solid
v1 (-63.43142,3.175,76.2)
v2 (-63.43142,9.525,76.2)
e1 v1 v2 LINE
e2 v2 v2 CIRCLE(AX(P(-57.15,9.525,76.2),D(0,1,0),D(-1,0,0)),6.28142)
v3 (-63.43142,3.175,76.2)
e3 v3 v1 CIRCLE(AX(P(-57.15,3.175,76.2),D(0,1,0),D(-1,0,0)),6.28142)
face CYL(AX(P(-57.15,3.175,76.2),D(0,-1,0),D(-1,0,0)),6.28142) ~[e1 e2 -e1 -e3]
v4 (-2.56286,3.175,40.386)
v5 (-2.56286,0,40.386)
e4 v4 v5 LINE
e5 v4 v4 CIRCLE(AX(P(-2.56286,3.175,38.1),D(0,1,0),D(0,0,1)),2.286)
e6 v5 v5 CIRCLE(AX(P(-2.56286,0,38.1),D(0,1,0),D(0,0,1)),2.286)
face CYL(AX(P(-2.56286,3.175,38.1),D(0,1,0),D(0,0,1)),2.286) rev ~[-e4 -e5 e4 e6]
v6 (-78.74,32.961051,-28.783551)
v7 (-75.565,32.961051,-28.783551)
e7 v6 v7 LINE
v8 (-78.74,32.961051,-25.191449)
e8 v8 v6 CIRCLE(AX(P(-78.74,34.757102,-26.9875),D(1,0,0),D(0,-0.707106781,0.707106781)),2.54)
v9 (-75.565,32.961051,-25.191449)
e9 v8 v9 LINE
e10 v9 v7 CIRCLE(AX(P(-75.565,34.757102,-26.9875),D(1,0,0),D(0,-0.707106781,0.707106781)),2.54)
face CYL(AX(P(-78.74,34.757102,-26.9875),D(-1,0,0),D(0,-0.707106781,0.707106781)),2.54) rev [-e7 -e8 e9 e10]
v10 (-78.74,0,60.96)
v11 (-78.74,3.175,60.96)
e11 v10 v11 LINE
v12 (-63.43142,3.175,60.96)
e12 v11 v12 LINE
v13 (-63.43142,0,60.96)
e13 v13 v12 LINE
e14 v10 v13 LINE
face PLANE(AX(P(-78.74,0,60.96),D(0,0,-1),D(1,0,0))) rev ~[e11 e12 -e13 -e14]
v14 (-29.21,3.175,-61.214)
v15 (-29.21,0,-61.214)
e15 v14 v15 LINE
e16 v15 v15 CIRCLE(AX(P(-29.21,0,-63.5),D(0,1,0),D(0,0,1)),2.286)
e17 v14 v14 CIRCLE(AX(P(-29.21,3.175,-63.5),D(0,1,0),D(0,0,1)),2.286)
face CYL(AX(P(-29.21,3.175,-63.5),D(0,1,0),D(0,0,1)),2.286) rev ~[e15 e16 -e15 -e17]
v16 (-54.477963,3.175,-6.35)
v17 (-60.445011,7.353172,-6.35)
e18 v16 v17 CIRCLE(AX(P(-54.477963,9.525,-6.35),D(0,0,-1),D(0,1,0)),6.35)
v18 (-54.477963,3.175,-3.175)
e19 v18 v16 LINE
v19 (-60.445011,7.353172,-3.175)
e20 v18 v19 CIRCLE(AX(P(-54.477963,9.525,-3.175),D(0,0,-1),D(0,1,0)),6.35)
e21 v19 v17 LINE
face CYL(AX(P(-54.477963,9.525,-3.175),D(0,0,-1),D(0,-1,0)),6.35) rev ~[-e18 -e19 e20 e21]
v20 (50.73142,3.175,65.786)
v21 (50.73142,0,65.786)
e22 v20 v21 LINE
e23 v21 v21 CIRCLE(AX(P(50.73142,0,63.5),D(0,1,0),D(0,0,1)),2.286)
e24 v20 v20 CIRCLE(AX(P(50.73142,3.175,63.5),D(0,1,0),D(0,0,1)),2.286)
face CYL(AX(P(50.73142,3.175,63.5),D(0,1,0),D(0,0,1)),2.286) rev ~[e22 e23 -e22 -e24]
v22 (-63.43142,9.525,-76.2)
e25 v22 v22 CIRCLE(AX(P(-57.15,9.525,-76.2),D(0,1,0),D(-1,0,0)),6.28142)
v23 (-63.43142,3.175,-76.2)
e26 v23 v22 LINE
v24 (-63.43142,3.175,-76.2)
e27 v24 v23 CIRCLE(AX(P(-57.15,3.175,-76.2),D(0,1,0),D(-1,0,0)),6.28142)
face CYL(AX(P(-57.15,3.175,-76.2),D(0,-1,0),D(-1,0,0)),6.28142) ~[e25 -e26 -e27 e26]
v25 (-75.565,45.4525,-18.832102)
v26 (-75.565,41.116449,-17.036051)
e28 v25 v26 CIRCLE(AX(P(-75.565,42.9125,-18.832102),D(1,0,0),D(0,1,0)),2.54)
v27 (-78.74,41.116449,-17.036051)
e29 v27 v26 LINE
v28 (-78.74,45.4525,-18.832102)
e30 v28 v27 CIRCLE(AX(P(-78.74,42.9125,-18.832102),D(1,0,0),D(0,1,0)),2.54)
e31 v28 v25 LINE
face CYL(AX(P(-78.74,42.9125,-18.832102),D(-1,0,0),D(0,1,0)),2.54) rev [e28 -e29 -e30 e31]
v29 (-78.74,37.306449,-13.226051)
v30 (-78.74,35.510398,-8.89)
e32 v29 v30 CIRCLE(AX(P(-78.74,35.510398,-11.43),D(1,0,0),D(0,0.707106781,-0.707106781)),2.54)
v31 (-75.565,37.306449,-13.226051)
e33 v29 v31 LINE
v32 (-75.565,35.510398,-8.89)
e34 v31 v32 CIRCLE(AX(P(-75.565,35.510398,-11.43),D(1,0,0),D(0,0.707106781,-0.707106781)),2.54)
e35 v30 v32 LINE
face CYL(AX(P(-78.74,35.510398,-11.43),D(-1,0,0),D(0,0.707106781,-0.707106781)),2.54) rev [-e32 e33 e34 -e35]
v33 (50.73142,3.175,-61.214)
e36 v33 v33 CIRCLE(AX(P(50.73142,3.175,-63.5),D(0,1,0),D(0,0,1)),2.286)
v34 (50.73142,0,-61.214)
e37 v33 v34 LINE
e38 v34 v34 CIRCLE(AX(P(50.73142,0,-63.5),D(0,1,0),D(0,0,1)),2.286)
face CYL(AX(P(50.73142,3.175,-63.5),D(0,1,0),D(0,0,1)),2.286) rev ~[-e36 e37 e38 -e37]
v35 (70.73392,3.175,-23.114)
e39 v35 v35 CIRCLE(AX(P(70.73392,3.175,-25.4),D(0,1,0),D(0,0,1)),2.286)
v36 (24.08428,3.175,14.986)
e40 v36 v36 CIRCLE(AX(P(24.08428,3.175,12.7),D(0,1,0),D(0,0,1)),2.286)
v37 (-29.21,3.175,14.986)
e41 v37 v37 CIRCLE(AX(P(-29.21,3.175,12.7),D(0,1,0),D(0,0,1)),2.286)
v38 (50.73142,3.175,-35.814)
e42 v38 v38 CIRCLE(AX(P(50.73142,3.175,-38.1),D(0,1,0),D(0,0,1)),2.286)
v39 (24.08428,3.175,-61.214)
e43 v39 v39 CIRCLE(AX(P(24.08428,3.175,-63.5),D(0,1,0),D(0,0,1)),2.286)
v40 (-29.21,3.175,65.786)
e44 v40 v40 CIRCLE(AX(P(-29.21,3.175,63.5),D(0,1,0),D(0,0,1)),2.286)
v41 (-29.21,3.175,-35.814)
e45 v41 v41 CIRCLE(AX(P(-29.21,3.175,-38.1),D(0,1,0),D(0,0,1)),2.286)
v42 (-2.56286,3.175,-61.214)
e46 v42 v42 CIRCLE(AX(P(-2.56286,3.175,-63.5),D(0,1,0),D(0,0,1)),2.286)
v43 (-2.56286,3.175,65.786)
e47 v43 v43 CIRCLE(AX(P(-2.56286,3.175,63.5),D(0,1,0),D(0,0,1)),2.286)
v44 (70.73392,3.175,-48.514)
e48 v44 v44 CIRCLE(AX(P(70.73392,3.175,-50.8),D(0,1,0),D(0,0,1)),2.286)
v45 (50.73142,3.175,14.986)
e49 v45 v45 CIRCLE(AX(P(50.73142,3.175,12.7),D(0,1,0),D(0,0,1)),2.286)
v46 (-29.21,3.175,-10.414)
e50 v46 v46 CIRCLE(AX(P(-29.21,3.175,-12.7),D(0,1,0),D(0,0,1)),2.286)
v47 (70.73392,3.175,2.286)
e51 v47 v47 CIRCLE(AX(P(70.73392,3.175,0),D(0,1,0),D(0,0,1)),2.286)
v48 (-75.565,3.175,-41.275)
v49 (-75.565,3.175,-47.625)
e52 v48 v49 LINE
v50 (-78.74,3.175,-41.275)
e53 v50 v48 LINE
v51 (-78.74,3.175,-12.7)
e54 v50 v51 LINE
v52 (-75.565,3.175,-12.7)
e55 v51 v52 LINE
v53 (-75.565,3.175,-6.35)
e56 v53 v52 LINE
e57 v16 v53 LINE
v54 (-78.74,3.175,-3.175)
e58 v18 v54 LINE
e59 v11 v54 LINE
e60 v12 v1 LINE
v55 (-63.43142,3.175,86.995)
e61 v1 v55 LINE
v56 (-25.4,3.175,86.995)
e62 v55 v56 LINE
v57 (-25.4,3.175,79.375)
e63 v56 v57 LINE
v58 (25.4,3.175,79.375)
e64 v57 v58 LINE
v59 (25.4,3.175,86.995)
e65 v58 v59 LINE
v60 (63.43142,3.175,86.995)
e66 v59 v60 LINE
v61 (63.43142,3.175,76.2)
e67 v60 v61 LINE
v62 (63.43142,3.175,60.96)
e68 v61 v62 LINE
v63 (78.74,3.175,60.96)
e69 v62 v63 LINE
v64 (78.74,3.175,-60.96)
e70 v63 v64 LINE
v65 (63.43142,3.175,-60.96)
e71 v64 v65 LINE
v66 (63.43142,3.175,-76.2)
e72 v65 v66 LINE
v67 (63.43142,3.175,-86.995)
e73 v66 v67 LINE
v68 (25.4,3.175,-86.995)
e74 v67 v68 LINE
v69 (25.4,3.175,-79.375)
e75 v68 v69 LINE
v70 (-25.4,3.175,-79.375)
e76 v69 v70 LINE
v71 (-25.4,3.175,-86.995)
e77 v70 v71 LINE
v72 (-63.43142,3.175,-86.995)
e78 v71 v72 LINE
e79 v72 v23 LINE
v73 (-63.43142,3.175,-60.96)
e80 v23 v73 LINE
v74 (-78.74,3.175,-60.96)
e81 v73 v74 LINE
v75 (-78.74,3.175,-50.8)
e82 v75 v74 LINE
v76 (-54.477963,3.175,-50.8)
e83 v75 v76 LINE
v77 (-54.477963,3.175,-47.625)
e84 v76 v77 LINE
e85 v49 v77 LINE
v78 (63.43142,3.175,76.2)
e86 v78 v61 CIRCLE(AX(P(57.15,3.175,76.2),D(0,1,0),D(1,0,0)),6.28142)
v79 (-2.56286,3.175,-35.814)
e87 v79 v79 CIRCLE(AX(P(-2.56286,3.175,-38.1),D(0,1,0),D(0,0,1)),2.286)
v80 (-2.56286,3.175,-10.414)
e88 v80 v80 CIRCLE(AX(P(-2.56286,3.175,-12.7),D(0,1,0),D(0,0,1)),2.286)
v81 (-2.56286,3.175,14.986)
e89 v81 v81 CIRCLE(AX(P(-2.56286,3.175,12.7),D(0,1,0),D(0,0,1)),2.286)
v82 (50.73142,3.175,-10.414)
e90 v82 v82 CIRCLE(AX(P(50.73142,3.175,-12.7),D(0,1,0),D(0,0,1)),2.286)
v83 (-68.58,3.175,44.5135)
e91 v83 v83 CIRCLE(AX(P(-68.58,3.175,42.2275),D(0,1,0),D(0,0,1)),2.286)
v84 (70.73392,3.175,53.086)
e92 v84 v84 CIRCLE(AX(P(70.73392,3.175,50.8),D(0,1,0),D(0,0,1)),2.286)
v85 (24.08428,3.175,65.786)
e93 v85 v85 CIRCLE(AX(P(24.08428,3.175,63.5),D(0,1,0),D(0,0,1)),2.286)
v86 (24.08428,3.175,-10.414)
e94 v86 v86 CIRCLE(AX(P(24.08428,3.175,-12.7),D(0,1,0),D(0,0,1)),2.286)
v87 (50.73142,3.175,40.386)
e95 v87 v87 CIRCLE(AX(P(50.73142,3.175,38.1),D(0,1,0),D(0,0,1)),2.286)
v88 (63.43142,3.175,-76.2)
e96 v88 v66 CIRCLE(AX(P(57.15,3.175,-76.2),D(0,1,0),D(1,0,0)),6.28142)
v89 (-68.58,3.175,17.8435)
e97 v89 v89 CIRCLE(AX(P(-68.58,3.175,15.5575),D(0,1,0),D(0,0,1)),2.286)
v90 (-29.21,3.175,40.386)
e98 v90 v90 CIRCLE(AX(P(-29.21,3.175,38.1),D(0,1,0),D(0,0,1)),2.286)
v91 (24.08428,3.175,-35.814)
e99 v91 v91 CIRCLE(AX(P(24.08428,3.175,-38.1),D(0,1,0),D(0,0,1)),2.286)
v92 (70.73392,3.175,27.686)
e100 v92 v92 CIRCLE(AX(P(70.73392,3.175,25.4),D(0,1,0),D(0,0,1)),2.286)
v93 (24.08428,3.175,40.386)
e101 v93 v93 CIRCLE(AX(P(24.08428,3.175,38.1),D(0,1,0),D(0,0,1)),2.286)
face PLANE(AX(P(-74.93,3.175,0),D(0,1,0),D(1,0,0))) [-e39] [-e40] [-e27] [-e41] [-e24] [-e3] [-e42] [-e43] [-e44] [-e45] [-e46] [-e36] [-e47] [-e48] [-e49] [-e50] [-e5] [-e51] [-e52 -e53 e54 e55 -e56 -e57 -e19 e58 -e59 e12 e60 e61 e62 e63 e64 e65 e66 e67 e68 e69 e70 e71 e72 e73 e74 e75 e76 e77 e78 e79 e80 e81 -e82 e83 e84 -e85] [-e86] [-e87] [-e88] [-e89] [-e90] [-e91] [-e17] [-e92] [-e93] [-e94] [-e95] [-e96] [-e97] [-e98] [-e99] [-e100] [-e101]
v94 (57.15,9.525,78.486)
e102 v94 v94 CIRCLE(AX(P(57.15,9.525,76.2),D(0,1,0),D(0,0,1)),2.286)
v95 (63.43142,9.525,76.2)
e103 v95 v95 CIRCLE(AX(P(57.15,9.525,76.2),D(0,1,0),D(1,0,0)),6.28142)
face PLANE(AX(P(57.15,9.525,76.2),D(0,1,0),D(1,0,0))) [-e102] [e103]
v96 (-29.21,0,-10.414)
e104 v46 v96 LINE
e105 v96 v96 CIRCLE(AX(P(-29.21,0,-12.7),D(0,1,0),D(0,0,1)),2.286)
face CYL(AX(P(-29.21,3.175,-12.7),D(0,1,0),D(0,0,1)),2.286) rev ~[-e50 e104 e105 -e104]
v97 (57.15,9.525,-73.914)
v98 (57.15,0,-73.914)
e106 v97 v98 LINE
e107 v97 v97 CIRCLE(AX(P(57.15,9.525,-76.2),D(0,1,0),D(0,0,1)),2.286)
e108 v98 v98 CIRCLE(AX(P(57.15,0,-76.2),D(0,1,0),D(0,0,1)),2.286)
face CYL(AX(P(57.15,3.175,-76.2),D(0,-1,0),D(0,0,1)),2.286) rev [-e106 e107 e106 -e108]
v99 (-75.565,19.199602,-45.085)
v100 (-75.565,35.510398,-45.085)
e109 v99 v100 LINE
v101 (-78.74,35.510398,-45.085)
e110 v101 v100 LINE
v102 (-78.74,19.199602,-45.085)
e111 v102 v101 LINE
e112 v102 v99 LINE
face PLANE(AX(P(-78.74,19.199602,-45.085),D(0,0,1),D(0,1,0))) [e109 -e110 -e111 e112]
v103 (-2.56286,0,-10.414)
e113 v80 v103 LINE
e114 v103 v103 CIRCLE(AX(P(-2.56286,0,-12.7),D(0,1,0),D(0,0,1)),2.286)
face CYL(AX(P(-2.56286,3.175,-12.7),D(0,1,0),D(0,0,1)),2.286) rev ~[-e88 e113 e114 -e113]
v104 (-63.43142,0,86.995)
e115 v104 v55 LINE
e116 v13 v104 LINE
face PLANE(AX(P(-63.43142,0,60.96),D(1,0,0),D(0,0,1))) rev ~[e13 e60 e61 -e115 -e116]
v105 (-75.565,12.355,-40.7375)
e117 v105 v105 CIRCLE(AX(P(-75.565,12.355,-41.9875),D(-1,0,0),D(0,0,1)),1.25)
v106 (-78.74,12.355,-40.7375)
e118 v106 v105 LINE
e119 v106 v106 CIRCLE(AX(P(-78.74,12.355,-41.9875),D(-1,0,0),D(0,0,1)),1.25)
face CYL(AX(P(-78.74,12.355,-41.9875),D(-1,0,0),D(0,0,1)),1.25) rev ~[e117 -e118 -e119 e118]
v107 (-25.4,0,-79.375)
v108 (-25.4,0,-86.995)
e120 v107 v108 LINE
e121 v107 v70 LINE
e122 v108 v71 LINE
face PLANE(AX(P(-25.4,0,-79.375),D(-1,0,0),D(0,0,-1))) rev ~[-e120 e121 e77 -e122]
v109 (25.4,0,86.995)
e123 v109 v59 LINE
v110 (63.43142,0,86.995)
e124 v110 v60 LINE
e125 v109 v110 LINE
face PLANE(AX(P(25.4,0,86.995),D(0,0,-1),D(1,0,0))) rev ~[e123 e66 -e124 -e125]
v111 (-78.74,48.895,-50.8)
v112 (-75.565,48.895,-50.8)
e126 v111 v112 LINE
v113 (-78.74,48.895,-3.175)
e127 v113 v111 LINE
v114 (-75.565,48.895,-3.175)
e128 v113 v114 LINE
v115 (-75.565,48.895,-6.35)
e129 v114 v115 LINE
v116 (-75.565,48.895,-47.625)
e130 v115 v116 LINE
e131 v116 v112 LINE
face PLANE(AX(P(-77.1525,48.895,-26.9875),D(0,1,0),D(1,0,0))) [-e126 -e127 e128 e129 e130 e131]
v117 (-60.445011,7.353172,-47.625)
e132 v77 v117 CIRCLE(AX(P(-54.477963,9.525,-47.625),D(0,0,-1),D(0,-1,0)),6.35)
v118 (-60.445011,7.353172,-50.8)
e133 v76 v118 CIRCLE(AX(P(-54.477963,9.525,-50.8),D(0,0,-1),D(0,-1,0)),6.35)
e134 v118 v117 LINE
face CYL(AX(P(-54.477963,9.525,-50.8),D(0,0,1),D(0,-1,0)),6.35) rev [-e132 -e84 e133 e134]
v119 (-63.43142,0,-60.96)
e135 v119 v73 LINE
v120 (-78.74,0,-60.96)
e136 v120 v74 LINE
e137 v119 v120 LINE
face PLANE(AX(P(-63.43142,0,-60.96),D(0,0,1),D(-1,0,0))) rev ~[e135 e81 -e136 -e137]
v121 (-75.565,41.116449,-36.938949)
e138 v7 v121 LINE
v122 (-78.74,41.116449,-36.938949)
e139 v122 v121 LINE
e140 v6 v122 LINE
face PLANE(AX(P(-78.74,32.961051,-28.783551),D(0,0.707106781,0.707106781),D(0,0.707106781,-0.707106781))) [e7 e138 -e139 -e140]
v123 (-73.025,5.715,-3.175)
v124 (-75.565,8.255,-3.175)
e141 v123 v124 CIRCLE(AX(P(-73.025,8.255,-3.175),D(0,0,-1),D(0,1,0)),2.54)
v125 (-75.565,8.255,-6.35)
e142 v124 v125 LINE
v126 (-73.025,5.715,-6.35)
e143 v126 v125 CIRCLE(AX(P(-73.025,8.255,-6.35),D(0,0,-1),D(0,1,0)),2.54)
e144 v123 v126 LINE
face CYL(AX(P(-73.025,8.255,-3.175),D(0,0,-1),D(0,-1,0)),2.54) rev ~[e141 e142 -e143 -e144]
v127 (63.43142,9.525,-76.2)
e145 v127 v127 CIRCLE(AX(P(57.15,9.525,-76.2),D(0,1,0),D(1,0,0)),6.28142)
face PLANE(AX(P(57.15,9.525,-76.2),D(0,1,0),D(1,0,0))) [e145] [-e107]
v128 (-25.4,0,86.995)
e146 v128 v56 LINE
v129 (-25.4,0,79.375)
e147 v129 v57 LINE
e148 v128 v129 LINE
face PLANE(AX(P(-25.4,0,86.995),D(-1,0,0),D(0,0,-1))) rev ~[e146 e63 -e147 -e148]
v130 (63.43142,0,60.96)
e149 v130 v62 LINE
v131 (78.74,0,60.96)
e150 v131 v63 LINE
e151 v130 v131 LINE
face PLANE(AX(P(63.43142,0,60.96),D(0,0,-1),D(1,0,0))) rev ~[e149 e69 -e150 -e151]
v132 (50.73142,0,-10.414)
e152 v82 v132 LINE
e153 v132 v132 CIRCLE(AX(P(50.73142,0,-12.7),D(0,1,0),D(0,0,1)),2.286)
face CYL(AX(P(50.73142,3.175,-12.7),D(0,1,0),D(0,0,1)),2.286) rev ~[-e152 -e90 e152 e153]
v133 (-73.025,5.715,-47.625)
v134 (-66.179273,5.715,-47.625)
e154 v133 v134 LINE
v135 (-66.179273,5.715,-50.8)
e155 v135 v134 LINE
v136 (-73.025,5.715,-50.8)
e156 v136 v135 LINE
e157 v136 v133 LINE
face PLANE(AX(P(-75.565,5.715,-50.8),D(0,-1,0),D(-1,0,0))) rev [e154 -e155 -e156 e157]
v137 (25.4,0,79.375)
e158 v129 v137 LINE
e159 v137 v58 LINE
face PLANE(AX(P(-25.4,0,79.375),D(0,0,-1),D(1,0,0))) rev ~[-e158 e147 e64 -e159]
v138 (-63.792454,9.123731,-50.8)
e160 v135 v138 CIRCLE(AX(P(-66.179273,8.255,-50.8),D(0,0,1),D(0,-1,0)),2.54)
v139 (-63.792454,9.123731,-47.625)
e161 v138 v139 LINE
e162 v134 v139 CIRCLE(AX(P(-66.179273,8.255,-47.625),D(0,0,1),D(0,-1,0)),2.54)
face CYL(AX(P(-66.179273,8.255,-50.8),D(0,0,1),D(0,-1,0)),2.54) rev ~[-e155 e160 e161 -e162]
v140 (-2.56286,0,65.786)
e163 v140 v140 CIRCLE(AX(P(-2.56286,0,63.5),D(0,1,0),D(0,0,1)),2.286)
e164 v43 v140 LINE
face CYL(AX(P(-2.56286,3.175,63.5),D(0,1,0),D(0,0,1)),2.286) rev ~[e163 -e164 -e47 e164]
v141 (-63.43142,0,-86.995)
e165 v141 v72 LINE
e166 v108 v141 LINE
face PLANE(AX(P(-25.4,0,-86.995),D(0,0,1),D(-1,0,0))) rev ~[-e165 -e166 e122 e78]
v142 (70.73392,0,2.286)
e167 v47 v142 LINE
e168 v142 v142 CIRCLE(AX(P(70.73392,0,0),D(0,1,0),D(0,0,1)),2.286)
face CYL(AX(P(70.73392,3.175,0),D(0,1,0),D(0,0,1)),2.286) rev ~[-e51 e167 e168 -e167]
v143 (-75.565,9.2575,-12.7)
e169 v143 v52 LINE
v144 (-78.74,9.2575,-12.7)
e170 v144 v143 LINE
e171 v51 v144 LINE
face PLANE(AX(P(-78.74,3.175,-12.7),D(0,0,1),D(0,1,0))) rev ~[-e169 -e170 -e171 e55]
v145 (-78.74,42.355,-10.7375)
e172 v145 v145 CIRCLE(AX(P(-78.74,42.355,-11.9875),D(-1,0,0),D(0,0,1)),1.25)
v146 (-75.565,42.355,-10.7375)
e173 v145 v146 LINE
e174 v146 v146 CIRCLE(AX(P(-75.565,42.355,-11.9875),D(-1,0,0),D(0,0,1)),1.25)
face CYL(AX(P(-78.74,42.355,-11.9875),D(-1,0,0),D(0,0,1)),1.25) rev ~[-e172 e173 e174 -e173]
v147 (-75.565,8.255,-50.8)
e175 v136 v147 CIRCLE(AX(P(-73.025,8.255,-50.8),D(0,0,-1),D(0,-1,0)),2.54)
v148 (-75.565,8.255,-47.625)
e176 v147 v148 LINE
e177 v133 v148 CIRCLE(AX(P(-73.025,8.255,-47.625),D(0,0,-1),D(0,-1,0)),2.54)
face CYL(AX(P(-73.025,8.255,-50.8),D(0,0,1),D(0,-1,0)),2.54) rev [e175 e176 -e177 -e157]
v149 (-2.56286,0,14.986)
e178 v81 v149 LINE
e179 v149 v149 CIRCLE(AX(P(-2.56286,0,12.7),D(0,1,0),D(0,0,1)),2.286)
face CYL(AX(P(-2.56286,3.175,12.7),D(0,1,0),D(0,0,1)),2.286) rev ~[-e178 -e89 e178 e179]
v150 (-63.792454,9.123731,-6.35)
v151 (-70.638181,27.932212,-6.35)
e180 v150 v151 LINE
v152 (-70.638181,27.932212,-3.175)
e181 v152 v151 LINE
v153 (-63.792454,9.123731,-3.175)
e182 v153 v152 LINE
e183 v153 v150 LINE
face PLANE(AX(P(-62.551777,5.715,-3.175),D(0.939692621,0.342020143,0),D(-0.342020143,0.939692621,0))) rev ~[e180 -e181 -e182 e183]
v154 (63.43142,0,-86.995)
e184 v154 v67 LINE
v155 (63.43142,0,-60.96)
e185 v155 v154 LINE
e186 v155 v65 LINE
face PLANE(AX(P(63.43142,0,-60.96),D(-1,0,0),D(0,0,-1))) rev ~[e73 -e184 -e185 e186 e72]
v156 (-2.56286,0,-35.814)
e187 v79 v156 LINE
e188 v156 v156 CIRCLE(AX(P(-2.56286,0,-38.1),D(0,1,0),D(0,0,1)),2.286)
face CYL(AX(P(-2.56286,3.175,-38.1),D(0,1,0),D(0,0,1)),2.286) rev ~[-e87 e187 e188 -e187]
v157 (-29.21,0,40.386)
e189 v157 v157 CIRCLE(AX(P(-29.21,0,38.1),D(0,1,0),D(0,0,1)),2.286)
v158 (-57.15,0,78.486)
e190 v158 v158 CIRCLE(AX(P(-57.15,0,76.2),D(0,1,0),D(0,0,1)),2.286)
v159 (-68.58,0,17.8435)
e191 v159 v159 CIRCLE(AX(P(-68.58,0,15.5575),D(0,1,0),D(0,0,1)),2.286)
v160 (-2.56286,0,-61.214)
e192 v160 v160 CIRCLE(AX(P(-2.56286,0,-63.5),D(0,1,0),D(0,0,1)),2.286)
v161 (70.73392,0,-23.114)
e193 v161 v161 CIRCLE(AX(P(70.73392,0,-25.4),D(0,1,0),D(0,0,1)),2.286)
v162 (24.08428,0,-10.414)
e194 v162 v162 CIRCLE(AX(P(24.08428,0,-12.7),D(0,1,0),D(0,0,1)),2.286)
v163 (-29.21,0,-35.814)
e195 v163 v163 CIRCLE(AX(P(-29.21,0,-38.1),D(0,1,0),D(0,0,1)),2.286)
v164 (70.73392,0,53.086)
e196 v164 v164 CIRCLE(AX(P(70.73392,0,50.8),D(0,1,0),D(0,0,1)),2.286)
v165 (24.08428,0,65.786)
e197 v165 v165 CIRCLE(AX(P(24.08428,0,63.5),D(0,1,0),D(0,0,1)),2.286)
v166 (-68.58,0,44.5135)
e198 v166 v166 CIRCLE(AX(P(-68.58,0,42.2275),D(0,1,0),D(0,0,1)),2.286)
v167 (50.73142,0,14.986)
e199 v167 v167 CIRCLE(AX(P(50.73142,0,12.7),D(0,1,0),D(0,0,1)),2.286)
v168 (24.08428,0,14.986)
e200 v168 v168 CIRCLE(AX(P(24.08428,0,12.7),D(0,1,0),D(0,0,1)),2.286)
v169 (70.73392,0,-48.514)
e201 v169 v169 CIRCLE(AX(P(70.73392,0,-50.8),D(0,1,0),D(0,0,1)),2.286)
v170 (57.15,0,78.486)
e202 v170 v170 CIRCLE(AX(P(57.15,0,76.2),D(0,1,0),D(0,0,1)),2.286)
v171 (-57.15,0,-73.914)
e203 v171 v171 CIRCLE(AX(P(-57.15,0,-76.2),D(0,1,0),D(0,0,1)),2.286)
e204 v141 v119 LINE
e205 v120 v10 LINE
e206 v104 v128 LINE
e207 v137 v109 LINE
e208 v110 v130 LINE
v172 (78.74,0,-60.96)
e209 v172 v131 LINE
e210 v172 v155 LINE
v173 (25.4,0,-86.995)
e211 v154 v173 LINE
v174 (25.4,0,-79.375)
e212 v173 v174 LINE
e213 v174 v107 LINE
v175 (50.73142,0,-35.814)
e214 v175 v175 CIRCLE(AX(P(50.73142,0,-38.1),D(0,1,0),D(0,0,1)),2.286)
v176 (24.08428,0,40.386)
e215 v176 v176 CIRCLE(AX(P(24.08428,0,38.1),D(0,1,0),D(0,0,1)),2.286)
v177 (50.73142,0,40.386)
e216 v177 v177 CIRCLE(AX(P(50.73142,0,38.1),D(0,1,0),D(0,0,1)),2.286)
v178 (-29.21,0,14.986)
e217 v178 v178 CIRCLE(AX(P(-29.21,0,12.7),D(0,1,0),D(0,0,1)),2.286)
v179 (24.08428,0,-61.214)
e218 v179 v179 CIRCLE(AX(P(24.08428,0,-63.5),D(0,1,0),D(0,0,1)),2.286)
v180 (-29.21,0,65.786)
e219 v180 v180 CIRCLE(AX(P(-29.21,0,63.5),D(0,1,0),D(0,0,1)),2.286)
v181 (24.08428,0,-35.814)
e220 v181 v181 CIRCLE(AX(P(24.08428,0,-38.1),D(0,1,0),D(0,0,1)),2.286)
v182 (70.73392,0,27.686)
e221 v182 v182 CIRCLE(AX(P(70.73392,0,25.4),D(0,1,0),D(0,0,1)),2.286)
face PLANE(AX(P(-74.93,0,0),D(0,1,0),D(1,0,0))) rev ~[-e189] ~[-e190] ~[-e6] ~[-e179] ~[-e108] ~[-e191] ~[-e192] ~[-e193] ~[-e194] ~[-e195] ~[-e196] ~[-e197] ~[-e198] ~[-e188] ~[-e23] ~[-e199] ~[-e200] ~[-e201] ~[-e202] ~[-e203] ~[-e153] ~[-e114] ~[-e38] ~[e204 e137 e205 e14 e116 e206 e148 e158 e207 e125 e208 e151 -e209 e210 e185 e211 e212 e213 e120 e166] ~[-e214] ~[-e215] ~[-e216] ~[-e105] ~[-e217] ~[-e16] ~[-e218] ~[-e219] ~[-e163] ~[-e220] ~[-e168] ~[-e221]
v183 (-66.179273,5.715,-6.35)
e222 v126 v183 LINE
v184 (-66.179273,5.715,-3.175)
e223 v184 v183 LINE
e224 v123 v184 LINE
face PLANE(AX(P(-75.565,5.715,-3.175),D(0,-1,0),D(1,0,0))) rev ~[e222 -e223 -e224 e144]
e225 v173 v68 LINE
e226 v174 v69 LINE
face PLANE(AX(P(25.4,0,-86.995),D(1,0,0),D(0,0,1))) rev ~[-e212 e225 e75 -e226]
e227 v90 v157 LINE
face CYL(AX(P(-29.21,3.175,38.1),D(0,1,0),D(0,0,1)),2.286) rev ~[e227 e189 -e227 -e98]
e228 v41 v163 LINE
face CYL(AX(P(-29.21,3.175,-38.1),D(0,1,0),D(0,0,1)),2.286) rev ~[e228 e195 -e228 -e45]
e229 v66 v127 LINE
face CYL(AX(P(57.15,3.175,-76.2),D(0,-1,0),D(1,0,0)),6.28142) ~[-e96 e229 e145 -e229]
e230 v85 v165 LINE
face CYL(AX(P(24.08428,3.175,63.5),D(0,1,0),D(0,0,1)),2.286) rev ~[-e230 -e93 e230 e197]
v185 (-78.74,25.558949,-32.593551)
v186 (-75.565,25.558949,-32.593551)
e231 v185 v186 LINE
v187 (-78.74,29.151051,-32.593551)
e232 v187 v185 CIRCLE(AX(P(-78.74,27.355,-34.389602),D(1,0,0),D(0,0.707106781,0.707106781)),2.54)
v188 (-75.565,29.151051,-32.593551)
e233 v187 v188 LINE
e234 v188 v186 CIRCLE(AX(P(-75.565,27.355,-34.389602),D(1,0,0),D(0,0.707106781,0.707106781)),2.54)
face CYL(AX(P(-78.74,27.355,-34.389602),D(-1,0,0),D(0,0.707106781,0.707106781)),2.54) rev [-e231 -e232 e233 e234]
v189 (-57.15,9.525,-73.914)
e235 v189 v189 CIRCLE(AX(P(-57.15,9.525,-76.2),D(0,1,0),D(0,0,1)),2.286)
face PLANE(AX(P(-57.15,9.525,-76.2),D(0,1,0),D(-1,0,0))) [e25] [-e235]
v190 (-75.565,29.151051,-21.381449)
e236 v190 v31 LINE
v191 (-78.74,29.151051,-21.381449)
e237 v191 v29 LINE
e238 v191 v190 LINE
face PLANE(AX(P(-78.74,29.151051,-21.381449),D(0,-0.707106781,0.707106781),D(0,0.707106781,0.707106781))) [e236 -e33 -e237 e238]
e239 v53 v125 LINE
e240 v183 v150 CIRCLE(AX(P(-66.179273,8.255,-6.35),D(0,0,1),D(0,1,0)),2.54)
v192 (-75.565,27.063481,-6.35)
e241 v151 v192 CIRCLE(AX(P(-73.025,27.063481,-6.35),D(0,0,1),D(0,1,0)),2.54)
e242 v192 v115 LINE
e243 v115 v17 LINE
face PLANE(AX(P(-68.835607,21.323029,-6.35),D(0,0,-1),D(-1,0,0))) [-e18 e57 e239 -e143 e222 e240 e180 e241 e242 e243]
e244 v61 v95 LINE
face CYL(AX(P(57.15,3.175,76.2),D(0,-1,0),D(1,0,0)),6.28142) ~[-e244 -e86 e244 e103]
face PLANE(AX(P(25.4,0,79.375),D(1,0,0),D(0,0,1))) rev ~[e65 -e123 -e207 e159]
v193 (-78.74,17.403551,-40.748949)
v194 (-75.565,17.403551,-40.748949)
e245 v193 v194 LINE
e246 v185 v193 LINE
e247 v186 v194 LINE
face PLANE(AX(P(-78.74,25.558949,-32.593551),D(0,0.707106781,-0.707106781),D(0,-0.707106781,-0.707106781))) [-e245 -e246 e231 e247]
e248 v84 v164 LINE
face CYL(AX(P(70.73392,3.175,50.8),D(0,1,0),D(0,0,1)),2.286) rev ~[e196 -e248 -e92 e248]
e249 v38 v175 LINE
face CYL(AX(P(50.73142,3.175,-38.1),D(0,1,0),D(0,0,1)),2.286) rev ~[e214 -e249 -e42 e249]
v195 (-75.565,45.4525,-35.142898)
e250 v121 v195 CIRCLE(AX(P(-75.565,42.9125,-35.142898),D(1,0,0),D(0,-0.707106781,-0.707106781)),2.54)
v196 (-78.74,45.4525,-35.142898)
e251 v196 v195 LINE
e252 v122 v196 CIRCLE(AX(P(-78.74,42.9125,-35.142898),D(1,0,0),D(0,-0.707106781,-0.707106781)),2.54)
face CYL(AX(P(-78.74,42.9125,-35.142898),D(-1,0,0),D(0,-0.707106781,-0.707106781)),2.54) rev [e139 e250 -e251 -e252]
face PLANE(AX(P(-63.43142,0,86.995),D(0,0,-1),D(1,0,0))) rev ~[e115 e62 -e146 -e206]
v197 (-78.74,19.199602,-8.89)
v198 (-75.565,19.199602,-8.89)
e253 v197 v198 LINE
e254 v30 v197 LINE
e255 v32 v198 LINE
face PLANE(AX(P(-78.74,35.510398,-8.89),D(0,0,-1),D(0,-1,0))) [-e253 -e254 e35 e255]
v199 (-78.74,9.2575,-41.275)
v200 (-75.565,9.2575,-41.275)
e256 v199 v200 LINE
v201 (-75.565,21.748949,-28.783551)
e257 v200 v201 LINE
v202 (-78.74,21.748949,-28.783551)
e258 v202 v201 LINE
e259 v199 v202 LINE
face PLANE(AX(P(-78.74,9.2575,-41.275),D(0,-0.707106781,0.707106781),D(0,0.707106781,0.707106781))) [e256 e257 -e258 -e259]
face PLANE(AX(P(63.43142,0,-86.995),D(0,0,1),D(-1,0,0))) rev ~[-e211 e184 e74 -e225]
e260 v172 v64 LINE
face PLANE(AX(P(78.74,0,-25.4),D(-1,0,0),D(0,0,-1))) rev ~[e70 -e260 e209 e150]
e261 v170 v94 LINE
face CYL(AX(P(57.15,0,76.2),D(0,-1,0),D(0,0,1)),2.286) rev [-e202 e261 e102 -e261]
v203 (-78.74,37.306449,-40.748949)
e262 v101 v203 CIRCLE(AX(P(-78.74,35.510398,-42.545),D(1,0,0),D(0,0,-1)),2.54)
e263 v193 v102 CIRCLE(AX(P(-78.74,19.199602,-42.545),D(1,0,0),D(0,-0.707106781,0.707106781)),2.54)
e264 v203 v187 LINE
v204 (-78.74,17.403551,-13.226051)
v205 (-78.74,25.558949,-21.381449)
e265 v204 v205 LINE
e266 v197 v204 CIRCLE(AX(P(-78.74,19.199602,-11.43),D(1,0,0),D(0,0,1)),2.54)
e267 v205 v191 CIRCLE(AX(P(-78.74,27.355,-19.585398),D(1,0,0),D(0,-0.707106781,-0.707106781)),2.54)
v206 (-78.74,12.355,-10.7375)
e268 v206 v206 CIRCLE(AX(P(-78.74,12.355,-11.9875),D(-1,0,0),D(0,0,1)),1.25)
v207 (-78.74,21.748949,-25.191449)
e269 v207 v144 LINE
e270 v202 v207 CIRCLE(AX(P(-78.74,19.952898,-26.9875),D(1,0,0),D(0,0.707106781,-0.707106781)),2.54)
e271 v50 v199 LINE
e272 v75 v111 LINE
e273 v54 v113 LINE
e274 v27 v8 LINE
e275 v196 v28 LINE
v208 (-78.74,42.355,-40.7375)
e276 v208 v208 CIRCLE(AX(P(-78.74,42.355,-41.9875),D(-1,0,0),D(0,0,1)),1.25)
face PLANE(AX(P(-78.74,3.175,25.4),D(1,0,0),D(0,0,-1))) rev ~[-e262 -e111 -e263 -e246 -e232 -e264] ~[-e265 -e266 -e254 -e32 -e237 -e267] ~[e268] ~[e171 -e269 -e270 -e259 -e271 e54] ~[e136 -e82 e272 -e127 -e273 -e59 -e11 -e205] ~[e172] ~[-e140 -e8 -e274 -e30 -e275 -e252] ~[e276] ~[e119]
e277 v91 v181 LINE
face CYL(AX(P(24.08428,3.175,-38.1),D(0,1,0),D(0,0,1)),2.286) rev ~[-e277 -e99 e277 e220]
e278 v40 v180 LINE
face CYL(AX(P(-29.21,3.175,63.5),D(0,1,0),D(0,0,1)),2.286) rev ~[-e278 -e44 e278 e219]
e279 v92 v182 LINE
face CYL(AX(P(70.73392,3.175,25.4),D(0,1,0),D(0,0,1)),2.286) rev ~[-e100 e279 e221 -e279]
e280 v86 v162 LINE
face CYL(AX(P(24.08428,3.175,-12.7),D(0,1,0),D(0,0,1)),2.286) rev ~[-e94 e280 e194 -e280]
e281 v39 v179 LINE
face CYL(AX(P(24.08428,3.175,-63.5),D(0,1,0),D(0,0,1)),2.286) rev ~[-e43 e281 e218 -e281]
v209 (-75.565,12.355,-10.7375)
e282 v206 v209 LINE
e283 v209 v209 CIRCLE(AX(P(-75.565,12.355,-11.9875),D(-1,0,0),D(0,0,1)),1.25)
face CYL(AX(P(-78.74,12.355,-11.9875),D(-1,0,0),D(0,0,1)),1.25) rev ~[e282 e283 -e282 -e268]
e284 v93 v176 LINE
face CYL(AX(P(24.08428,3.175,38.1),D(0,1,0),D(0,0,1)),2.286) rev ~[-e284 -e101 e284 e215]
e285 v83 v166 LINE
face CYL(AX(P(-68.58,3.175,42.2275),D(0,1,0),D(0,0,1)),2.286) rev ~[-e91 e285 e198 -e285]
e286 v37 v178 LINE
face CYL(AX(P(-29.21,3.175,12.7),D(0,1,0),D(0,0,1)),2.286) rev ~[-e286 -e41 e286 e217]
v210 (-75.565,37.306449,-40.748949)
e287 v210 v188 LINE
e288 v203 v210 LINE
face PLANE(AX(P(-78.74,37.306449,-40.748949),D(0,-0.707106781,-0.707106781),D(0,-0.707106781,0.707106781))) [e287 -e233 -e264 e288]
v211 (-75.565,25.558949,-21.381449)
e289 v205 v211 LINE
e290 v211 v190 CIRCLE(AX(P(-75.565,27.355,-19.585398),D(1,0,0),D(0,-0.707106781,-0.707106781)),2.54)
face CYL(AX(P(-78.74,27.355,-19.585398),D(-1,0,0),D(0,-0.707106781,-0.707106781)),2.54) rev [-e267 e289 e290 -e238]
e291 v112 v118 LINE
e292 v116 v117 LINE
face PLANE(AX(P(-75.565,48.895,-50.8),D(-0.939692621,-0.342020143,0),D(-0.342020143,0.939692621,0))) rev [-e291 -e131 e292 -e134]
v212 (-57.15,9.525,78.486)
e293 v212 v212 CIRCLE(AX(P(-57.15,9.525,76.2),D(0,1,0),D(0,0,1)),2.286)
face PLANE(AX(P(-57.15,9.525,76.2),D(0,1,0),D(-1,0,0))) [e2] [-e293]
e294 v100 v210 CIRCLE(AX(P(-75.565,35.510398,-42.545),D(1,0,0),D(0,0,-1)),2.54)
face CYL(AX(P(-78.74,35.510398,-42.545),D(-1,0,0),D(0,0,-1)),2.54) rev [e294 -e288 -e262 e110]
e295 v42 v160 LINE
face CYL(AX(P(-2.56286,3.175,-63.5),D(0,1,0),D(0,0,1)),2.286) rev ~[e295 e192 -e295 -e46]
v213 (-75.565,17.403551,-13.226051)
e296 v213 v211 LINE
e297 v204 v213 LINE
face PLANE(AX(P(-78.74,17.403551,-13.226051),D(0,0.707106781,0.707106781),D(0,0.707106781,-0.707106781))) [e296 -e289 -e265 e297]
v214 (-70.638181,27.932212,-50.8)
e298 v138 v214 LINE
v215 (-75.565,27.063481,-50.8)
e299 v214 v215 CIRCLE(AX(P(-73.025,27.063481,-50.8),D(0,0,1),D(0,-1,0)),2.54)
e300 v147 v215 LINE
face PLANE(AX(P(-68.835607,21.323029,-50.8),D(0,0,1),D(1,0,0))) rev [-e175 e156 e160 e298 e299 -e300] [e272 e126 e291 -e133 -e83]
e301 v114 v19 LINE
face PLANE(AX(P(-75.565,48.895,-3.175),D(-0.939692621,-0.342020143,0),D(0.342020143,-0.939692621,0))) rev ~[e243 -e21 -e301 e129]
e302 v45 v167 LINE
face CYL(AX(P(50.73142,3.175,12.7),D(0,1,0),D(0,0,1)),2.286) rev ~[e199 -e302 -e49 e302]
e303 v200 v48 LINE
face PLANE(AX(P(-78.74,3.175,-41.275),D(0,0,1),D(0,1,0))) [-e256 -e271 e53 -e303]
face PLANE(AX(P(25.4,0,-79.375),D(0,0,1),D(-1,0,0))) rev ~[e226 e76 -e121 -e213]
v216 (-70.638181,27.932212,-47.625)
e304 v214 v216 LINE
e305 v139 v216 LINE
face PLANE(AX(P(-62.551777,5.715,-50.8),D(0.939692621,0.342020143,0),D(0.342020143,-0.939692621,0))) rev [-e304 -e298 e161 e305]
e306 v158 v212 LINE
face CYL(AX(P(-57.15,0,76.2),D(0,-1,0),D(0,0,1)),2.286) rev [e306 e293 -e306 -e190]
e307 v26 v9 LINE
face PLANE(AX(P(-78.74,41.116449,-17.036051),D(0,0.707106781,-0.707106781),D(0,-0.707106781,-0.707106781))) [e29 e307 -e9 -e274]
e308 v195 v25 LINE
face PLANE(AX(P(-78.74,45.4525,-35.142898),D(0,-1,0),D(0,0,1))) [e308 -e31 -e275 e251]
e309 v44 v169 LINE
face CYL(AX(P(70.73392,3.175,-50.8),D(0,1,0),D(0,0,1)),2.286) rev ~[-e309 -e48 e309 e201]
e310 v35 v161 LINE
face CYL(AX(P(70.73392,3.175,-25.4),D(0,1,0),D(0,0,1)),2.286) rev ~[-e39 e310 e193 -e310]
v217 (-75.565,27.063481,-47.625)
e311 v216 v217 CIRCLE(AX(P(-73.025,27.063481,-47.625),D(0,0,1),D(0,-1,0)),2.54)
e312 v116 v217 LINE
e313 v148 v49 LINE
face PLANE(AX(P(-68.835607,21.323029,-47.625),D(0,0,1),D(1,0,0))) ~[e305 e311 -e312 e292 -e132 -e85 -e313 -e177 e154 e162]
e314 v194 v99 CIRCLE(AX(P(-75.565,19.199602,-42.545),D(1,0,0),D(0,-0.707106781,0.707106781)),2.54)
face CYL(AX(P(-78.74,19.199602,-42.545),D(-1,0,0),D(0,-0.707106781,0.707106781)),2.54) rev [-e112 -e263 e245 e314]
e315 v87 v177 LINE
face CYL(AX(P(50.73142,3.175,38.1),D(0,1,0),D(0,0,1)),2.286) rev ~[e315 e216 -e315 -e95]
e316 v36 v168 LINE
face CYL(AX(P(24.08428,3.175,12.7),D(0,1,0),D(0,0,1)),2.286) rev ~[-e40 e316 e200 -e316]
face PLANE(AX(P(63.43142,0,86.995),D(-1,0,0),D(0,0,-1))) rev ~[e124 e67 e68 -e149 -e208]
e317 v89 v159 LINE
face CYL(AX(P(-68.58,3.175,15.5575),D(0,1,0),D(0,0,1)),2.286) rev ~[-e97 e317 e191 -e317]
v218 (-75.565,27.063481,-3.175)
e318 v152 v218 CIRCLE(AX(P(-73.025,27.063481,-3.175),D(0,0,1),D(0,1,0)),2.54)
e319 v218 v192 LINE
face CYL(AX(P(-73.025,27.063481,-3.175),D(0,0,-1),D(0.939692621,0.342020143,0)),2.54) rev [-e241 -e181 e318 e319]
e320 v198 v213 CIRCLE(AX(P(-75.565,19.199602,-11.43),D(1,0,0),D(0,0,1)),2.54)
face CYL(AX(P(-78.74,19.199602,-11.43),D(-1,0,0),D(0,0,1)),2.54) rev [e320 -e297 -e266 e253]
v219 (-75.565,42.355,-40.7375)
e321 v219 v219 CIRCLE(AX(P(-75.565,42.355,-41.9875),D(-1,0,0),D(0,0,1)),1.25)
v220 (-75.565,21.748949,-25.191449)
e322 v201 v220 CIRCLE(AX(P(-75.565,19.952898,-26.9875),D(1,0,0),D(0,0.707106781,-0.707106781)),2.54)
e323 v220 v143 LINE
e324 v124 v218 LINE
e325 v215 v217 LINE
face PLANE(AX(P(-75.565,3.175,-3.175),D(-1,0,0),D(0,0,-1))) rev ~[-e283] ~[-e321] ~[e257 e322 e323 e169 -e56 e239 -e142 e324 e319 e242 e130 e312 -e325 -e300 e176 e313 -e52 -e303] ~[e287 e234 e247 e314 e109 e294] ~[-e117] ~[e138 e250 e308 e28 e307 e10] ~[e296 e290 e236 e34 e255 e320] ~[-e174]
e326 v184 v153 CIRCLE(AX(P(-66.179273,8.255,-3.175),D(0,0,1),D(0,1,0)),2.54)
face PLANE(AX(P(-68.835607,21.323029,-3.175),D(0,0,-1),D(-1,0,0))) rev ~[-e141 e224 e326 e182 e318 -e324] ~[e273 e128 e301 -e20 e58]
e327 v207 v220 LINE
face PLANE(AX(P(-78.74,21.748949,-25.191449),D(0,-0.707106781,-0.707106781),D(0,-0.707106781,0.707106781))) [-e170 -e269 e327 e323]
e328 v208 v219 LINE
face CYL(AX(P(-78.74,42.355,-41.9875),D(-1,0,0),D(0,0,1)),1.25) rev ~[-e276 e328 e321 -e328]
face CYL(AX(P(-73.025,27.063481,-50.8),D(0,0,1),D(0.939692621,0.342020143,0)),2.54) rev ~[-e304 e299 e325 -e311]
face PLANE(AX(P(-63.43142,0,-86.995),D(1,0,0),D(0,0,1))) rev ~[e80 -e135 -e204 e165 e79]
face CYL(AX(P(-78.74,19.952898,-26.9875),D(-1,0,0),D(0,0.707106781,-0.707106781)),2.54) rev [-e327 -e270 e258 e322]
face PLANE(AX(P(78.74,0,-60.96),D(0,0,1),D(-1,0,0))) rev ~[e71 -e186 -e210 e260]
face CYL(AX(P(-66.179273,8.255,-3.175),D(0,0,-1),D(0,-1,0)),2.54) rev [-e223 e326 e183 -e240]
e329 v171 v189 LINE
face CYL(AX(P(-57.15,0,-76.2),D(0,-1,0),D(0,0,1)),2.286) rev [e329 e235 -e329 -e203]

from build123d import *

# Parameters (mm, degrees)
SKETCH1_R            = 2.286
MAIN_BODY_DEPTH      = 3.175
SKETCH34_W           = 7.62
SKETCH34_H           = 50.8
BOSS_EXTRUDE3_DEPTH  = 3.175
SKETCH35_R           = 6.28142
SKETCH35_R_2         = 2.286
BOSS_EXTRUDE4_DEPTH  = 6.35
SKETCH37_W           = 3.175
SKETCH37_H           = 47.625
BOSS_EXTRUDE5_DEPTH  = 45.72
SKETCH40_R           = 1.25
CUT_EXTRUDE3_DEPTH   = 3.175
CUT_EXTRUDE6_REACH   = 188.437
SKETCH48_W           = 28.575
SKETCH48_H           = 6.0825
SKETCH49_R           = 2.286
CUT_EXTRUDE7_DEPTH   = 126.930282399
EXTRUDE_THIN1_DEPTH  = 3.175
FILLET1_R            = 2.54
FILLET2_R            = 6.35
FILLET1_OF_MIRROR2_R = 2.54
FILLET2_OF_MIRROR2_R = 6.35
SKETCH50_R           = 2.286
CUT_EXTRUDE8_DEPTH   = 126.930282399


with BuildPart() as part:
    # Sketch1 → Main Body (new body)
    with BuildSketch(Plane(origin=(0, 0, 0), x_dir=(1, 0, 0), z_dir=(0, 1, 0))):
        Polygon((-25.4, 86.995), (-63.43142, 86.995), (-63.43142, 60.96), (-78.74, 60.96), (-78.74, 25.4), (-71.12, 25.4), (-71.12, -25.4), (-78.74, -25.4), (-78.74, -60.96), (-63.43142, -60.96), (-63.43142, -86.995), (-25.4, -86.995), (-25.4, -79.375), (25.4, -79.375), (25.4, -86.995), (63.43142, -86.995), (63.43142, -60.96), (78.74, -60.96), (78.74, -25.4), (71.12, -25.4), (71.12, 25.4), (78.74, 25.4), (78.74, 60.96), (63.43142, 60.96), (63.43142, 86.995), (25.4, 86.995), (25.4, 79.375), (-25.4, 79.375), align=None)
        with Locations(Location((-57.15, 76.2, 0), (0, 0, 270))):
            Circle(SKETCH1_R, mode=Mode.SUBTRACT)
        with Locations(Location((57.15, 76.2, 0), (0, 0, 270))):
            Circle(SKETCH1_R, mode=Mode.SUBTRACT)
        with Locations(Location((57.15, -76.2, 0), (0, 0, 270))):
            Circle(SKETCH1_R, mode=Mode.SUBTRACT)
        with Locations(Location((-57.15, -76.2, 0), (0, 0, 270))):
            Circle(SKETCH1_R, mode=Mode.SUBTRACT)
    extrude(amount=MAIN_BODY_DEPTH)

    # Sketch34 → Boss-Extrude3 (add)
    with BuildSketch(Plane(origin=(0, 3.175, 0), x_dir=(1, 0, 0), z_dir=(0, 1, 0))):
        with Locations((-74.93, 0)):
            Rectangle(SKETCH34_W, SKETCH34_H)
        with Locations((74.93, 0)):
            Rectangle(SKETCH34_W, SKETCH34_H)
    extrude(amount=-BOSS_EXTRUDE3_DEPTH)

    # Sketch35 → Boss-Extrude4 (add)
    # profile 1 of 4: a face of its own
    with BuildSketch(Plane(origin=(0, 3.175, 0), x_dir=(1, 0, 0), z_dir=(0, 1, 0))):
        with Locations((57.15, 76.2)):
            Circle(SKETCH35_R)
        with Locations(Location((57.15, 76.2, 0), (0, 0, 270))):
            Circle(SKETCH35_R_2, mode=Mode.SUBTRACT)
    # profile 2 of 4: a face of its own
    with BuildSketch(Plane(origin=(0, 3.175, 0), x_dir=(1, 0, 0), z_dir=(0, 1, 0))):
        with Locations((57.15, -76.2)):
            Circle(SKETCH35_R)
        with Locations(Location((57.15, -76.2, 0), (0, 0, 270))):
            Circle(SKETCH35_R_2, mode=Mode.SUBTRACT)
    # profile 3 of 4: a face of its own
    with BuildSketch(Plane(origin=(0, 3.175, 0), x_dir=(1, 0, 0), z_dir=(0, 1, 0))):
        with Locations(Location((-57.15, -76.2, 0), (0, 0, 180))):
            Circle(SKETCH35_R)
        with Locations(Location((-57.15, -76.2, 0), (0, 0, 270))):
            Circle(SKETCH35_R_2, mode=Mode.SUBTRACT)
    # profile 4 of 4: a face of its own
    with BuildSketch(Plane(origin=(0, 3.175, 0), x_dir=(1, 0, 0), z_dir=(0, 1, 0))):
        with Locations(Location((-57.15, 76.2, 0), (0, 0, 180))):
            Circle(SKETCH35_R)
        with Locations(Location((-57.15, 76.2, 0), (0, 0, 270))):
            Circle(SKETCH35_R_2, mode=Mode.SUBTRACT)
    extrude(amount=BOSS_EXTRUDE4_DEPTH)

    # Sketch37 → Boss-Extrude5 (add)
    with BuildSketch(Plane(origin=(0, 3.175, 0), x_dir=(1, 0, 0), z_dir=(0, 1, 0))):
        with Locations((-77.1525, 26.9875)):
            Rectangle(SKETCH37_W, SKETCH37_H)
    extrude(amount=BOSS_EXTRUDE5_DEPTH)

    # Sketch40 → Cut-Extrude3 (cut)
    with BuildSketch(Plane.ZY.offset(78.74)):
        with Locations((-41.9875, 42.355)):
            Circle(SKETCH40_R)
        with Locations((-11.9875, 42.355)):
            Circle(SKETCH40_R)
        with Locations((-11.9875, 12.355)):
            Circle(SKETCH40_R)
        with Locations((-41.9875, 12.355)):
            Circle(SKETCH40_R)
        with BuildLine():
            Line((-35.142897552, 45.4525), (-18.832102448, 45.4525))
            ThreePointArc((-18.832102448, 45.4525), (-16.485448436, 43.884515918), (-17.036051224, 41.116448776))
            Line((-17.036051224, 41.116448776), (-25.191448776, 32.961051224))
            ThreePointArc((-25.191448776, 32.961051224), (-26.9875, 32.217102448), (-28.783551224, 32.961051224))
            Line((-28.783551224, 32.961051224), (-36.938948776, 41.116448776))
            ThreePointArc((-36.938948776, 41.116448776), (-37.489551564, 43.884515918), (-35.142897552, 45.4525))
        make_face()
        with BuildLine():
            Line((-21.381448776, 29.151051224), (-13.226051224, 37.306448776))
            ThreePointArc((-13.226051224, 37.306448776), (-10.457984082, 37.857051564), (-8.89, 35.510397552))
            Line((-8.89, 35.510397552), (-8.89, 19.199602448))
            ThreePointArc((-8.89, 19.199602448), (-10.457984082, 16.852948436), (-13.226051224, 17.403551224))
            Line((-13.226051224, 17.403551224), (-21.381448776, 25.558948776))
            ThreePointArc((-21.381448776, 25.558948776), (-22.125397552, 27.355), (-21.381448776, 29.151051224))
        make_face()
        with BuildLine():
            Line((-25.191448776, 21.748948776), (-12.7, 9.2575))
            Line((-12.7, 9.2575), (-41.275, 9.2575))
            Line((-41.275, 9.2575), (-28.783551224, 21.748948776))
            ThreePointArc((-28.783551224, 21.748948776), (-26.9875, 22.492897552), (-25.191448776, 21.748948776))
        make_face()
        with BuildLine():
            Line((-32.593551224, 25.558948776), (-40.748948776, 17.403551224))
            ThreePointArc((-40.748948776, 17.403551224), (-43.517015918, 16.852948436), (-45.085, 19.199602448))
            Line((-45.085, 19.199602448), (-45.085, 35.510397552))
            ThreePointArc((-45.085, 35.510397552), (-43.517015918, 37.857051564), (-40.748948776, 37.306448776))
            Line((-40.748948776, 37.306448776), (-32.593551224, 29.151051224))
            ThreePointArc((-32.593551224, 29.151051224), (-31.849602448, 27.355), (-32.593551224, 25.558948776))
        make_face()
    extrude(amount=-CUT_EXTRUDE3_DEPTH, mode=Mode.SUBTRACT)

    # Sketch48 → Cut-Extrude6 (cut, up to next)
    with BuildSketch(Plane.ZY.offset(78.74), mode=Mode.PRIVATE) as cut_extrude6_sk1:
        with Locations((-26.9875, 6.21625)):
            Rectangle(SKETCH48_W, SKETCH48_H)
    cut_extrude6_tool1 = extrude(cut_extrude6_sk1.sketch, amount=-CUT_EXTRUDE6_REACH, mode=Mode.PRIVATE) & part.part
    add(cut_extrude6_tool1.solids().sort_by_distance((-78.74, 6.21625, -26.9875))[0], mode=Mode.SUBTRACT)

    # Sketch49 → Cut-Extrude7 (cut, through all)
    with BuildSketch(Plane(origin=(0, 3.175, 0), x_dir=(1, 0, 0), z_dir=(0, 1, 0))):
        with Locations(Location((-68.58, -15.5575, 0), (0, 0, 270))):
            Circle(SKETCH49_R)
        with Locations(Location((-68.58, -42.2275, 0), (0, 0, 270))):
            Circle(SKETCH49_R)
    extrude(amount=-CUT_EXTRUDE7_DEPTH, mode=Mode.SUBTRACT)

    # Sketch39 → Extrude-Thin1 (add)
    with BuildSketch(Plane.XY.offset(-3.175)):
        Polygon((-75.565, 48.895), (-58.924280889, 3.175), (-75.565, 3.175), (-75.565, 5.715), (-62.551776826, 5.715), (-77.951819257, 48.026268836), align=None)
    extrude_thin1 = extrude(amount=-EXTRUDE_THIN1_DEPTH)

    # Fillet1
    fillet1_edges = [part.edges().sort_by_distance(p)[0] for p in [
        (-75.565, 5.715, -4.7625),
        (-75.565, 41.468536824, -4.7625),
        (-62.551776826, 5.715, -4.7625),
    ]]
    fillet(fillet1_edges, radius=FILLET1_R)

    # Fillet2
    fillet2_edges = [part.edges().sort_by_distance(p)[0] for p in [
        (-58.924280889, 3.175, -4.7625),
    ]]
    fillet(fillet2_edges, radius=FILLET2_R)

    # Mirror2: Extrude-Thin1 across plane
    add(extrude_thin1.mirror(Plane(origin=(0, 0, -26.9875), x_dir=(1, 0, 0), z_dir=(0, 0, -1))))

    # Fillet1 of Mirror2
    fillet1_of_mirror2_edges = [part.edges().sort_by_distance(p)[0] for p in [
        (-75.565, 5.715, -49.2125),
        (-75.565, 41.468536824, -49.2125),
        (-62.551776826, 5.715, -49.2125),
    ]]
    fillet(fillet1_of_mirror2_edges, radius=FILLET1_OF_MIRROR2_R)

    # Fillet2 of Mirror2
    fillet2_of_mirror2_edges = [part.edges().sort_by_distance(p)[0] for p in [
        (-58.924280889, 3.175, -49.2125),
    ]]
    fillet(fillet2_of_mirror2_edges, radius=FILLET2_OF_MIRROR2_R)

    # Sketch50 → Cut-Extrude8 (cut, through all)
    with BuildSketch(Plane(origin=(0, 3.175, 0), x_dir=(1, 0, 0), z_dir=(0, 1, 0))):
        with Locations(Location((-29.21, 63.5, 0), (0, 0, 270))):
            Circle(SKETCH50_R)
        with Locations(Location((-2.56286, 63.5, 0), (0, 0, 270))):
            Circle(SKETCH50_R)
        with Locations(Location((24.08428, 63.5, 0), (0, 0, 270))):
            Circle(SKETCH50_R)
        with Locations(Location((50.73142, 63.5, 0), (0, 0, 270))):
            Circle(SKETCH50_R)
        with Locations(Location((-2.56286, 38.1, 0), (0, 0, 270))):
            Circle(SKETCH50_R)
        with Locations(Location((24.08428, 38.1, 0), (0, 0, 270))):
            Circle(SKETCH50_R)
        with Locations(Location((50.73142, 38.1, 0), (0, 0, 270))):
            Circle(SKETCH50_R)
        with Locations(Location((-2.56286, 12.7, 0), (0, 0, 270))):
            Circle(SKETCH50_R)
        with Locations(Location((24.08428, 12.7, 0), (0, 0, 270))):
            Circle(SKETCH50_R)
        with Locations(Location((50.73142, 12.7, 0), (0, 0, 270))):
            Circle(SKETCH50_R)
        with Locations(Location((-2.56286, -12.7, 0), (0, 0, 270))):
            Circle(SKETCH50_R)
        with Locations(Location((24.08428, -12.7, 0), (0, 0, 270))):
            Circle(SKETCH50_R)
        with Locations(Location((50.73142, -12.7, 0), (0, 0, 270))):
            Circle(SKETCH50_R)
        with Locations(Location((-2.56286, -38.1, 0), (0, 0, 270))):
            Circle(SKETCH50_R)
        with Locations(Location((24.08428, -38.1, 0), (0, 0, 270))):
            Circle(SKETCH50_R)
        with Locations(Location((50.73142, -38.1, 0), (0, 0, 270))):
            Circle(SKETCH50_R)
        with Locations(Location((-2.56286, -63.5, 0), (0, 0, 270))):
            Circle(SKETCH50_R)
        with Locations(Location((24.08428, -63.5, 0), (0, 0, 270))):
            Circle(SKETCH50_R)
        with Locations(Location((50.73142, -63.5, 0), (0, 0, 270))):
            Circle(SKETCH50_R)
        with Locations(Location((-29.21, 38.1, 0), (0, 0, 270))):
            Circle(SKETCH50_R)
        with Locations(Location((-29.21, 12.7, 0), (0, 0, 270))):
            Circle(SKETCH50_R)
        with Locations(Location((-29.21, -12.7, 0), (0, 0, 270))):
            Circle(SKETCH50_R)
        with Locations(Location((-29.21, -38.1, 0), (0, 0, 270))):
            Circle(SKETCH50_R)
        with Locations(Location((-29.21, -63.5, 0), (0, 0, 270))):
            Circle(SKETCH50_R)
        with Locations(Location((70.73392, 50.8, 0), (0, 0, 270))):
            Circle(SKETCH50_R)
        with Locations(Location((70.73392, 25.4, 0), (0, 0, 270))):
            Circle(SKETCH50_R)
        with Locations(Location((70.73392, 0, 0), (0, 0, 270))):
            Circle(SKETCH50_R)
        with Locations(Location((70.73392, -25.4, 0), (0, 0, 270))):
            Circle(SKETCH50_R)
        with Locations(Location((70.73392, -50.8, 0), (0, 0, 270))):
            Circle(SKETCH50_R)
    extrude(amount=-CUT_EXTRUDE8_DEPTH, mode=Mode.SUBTRACT)


solid = part.part
